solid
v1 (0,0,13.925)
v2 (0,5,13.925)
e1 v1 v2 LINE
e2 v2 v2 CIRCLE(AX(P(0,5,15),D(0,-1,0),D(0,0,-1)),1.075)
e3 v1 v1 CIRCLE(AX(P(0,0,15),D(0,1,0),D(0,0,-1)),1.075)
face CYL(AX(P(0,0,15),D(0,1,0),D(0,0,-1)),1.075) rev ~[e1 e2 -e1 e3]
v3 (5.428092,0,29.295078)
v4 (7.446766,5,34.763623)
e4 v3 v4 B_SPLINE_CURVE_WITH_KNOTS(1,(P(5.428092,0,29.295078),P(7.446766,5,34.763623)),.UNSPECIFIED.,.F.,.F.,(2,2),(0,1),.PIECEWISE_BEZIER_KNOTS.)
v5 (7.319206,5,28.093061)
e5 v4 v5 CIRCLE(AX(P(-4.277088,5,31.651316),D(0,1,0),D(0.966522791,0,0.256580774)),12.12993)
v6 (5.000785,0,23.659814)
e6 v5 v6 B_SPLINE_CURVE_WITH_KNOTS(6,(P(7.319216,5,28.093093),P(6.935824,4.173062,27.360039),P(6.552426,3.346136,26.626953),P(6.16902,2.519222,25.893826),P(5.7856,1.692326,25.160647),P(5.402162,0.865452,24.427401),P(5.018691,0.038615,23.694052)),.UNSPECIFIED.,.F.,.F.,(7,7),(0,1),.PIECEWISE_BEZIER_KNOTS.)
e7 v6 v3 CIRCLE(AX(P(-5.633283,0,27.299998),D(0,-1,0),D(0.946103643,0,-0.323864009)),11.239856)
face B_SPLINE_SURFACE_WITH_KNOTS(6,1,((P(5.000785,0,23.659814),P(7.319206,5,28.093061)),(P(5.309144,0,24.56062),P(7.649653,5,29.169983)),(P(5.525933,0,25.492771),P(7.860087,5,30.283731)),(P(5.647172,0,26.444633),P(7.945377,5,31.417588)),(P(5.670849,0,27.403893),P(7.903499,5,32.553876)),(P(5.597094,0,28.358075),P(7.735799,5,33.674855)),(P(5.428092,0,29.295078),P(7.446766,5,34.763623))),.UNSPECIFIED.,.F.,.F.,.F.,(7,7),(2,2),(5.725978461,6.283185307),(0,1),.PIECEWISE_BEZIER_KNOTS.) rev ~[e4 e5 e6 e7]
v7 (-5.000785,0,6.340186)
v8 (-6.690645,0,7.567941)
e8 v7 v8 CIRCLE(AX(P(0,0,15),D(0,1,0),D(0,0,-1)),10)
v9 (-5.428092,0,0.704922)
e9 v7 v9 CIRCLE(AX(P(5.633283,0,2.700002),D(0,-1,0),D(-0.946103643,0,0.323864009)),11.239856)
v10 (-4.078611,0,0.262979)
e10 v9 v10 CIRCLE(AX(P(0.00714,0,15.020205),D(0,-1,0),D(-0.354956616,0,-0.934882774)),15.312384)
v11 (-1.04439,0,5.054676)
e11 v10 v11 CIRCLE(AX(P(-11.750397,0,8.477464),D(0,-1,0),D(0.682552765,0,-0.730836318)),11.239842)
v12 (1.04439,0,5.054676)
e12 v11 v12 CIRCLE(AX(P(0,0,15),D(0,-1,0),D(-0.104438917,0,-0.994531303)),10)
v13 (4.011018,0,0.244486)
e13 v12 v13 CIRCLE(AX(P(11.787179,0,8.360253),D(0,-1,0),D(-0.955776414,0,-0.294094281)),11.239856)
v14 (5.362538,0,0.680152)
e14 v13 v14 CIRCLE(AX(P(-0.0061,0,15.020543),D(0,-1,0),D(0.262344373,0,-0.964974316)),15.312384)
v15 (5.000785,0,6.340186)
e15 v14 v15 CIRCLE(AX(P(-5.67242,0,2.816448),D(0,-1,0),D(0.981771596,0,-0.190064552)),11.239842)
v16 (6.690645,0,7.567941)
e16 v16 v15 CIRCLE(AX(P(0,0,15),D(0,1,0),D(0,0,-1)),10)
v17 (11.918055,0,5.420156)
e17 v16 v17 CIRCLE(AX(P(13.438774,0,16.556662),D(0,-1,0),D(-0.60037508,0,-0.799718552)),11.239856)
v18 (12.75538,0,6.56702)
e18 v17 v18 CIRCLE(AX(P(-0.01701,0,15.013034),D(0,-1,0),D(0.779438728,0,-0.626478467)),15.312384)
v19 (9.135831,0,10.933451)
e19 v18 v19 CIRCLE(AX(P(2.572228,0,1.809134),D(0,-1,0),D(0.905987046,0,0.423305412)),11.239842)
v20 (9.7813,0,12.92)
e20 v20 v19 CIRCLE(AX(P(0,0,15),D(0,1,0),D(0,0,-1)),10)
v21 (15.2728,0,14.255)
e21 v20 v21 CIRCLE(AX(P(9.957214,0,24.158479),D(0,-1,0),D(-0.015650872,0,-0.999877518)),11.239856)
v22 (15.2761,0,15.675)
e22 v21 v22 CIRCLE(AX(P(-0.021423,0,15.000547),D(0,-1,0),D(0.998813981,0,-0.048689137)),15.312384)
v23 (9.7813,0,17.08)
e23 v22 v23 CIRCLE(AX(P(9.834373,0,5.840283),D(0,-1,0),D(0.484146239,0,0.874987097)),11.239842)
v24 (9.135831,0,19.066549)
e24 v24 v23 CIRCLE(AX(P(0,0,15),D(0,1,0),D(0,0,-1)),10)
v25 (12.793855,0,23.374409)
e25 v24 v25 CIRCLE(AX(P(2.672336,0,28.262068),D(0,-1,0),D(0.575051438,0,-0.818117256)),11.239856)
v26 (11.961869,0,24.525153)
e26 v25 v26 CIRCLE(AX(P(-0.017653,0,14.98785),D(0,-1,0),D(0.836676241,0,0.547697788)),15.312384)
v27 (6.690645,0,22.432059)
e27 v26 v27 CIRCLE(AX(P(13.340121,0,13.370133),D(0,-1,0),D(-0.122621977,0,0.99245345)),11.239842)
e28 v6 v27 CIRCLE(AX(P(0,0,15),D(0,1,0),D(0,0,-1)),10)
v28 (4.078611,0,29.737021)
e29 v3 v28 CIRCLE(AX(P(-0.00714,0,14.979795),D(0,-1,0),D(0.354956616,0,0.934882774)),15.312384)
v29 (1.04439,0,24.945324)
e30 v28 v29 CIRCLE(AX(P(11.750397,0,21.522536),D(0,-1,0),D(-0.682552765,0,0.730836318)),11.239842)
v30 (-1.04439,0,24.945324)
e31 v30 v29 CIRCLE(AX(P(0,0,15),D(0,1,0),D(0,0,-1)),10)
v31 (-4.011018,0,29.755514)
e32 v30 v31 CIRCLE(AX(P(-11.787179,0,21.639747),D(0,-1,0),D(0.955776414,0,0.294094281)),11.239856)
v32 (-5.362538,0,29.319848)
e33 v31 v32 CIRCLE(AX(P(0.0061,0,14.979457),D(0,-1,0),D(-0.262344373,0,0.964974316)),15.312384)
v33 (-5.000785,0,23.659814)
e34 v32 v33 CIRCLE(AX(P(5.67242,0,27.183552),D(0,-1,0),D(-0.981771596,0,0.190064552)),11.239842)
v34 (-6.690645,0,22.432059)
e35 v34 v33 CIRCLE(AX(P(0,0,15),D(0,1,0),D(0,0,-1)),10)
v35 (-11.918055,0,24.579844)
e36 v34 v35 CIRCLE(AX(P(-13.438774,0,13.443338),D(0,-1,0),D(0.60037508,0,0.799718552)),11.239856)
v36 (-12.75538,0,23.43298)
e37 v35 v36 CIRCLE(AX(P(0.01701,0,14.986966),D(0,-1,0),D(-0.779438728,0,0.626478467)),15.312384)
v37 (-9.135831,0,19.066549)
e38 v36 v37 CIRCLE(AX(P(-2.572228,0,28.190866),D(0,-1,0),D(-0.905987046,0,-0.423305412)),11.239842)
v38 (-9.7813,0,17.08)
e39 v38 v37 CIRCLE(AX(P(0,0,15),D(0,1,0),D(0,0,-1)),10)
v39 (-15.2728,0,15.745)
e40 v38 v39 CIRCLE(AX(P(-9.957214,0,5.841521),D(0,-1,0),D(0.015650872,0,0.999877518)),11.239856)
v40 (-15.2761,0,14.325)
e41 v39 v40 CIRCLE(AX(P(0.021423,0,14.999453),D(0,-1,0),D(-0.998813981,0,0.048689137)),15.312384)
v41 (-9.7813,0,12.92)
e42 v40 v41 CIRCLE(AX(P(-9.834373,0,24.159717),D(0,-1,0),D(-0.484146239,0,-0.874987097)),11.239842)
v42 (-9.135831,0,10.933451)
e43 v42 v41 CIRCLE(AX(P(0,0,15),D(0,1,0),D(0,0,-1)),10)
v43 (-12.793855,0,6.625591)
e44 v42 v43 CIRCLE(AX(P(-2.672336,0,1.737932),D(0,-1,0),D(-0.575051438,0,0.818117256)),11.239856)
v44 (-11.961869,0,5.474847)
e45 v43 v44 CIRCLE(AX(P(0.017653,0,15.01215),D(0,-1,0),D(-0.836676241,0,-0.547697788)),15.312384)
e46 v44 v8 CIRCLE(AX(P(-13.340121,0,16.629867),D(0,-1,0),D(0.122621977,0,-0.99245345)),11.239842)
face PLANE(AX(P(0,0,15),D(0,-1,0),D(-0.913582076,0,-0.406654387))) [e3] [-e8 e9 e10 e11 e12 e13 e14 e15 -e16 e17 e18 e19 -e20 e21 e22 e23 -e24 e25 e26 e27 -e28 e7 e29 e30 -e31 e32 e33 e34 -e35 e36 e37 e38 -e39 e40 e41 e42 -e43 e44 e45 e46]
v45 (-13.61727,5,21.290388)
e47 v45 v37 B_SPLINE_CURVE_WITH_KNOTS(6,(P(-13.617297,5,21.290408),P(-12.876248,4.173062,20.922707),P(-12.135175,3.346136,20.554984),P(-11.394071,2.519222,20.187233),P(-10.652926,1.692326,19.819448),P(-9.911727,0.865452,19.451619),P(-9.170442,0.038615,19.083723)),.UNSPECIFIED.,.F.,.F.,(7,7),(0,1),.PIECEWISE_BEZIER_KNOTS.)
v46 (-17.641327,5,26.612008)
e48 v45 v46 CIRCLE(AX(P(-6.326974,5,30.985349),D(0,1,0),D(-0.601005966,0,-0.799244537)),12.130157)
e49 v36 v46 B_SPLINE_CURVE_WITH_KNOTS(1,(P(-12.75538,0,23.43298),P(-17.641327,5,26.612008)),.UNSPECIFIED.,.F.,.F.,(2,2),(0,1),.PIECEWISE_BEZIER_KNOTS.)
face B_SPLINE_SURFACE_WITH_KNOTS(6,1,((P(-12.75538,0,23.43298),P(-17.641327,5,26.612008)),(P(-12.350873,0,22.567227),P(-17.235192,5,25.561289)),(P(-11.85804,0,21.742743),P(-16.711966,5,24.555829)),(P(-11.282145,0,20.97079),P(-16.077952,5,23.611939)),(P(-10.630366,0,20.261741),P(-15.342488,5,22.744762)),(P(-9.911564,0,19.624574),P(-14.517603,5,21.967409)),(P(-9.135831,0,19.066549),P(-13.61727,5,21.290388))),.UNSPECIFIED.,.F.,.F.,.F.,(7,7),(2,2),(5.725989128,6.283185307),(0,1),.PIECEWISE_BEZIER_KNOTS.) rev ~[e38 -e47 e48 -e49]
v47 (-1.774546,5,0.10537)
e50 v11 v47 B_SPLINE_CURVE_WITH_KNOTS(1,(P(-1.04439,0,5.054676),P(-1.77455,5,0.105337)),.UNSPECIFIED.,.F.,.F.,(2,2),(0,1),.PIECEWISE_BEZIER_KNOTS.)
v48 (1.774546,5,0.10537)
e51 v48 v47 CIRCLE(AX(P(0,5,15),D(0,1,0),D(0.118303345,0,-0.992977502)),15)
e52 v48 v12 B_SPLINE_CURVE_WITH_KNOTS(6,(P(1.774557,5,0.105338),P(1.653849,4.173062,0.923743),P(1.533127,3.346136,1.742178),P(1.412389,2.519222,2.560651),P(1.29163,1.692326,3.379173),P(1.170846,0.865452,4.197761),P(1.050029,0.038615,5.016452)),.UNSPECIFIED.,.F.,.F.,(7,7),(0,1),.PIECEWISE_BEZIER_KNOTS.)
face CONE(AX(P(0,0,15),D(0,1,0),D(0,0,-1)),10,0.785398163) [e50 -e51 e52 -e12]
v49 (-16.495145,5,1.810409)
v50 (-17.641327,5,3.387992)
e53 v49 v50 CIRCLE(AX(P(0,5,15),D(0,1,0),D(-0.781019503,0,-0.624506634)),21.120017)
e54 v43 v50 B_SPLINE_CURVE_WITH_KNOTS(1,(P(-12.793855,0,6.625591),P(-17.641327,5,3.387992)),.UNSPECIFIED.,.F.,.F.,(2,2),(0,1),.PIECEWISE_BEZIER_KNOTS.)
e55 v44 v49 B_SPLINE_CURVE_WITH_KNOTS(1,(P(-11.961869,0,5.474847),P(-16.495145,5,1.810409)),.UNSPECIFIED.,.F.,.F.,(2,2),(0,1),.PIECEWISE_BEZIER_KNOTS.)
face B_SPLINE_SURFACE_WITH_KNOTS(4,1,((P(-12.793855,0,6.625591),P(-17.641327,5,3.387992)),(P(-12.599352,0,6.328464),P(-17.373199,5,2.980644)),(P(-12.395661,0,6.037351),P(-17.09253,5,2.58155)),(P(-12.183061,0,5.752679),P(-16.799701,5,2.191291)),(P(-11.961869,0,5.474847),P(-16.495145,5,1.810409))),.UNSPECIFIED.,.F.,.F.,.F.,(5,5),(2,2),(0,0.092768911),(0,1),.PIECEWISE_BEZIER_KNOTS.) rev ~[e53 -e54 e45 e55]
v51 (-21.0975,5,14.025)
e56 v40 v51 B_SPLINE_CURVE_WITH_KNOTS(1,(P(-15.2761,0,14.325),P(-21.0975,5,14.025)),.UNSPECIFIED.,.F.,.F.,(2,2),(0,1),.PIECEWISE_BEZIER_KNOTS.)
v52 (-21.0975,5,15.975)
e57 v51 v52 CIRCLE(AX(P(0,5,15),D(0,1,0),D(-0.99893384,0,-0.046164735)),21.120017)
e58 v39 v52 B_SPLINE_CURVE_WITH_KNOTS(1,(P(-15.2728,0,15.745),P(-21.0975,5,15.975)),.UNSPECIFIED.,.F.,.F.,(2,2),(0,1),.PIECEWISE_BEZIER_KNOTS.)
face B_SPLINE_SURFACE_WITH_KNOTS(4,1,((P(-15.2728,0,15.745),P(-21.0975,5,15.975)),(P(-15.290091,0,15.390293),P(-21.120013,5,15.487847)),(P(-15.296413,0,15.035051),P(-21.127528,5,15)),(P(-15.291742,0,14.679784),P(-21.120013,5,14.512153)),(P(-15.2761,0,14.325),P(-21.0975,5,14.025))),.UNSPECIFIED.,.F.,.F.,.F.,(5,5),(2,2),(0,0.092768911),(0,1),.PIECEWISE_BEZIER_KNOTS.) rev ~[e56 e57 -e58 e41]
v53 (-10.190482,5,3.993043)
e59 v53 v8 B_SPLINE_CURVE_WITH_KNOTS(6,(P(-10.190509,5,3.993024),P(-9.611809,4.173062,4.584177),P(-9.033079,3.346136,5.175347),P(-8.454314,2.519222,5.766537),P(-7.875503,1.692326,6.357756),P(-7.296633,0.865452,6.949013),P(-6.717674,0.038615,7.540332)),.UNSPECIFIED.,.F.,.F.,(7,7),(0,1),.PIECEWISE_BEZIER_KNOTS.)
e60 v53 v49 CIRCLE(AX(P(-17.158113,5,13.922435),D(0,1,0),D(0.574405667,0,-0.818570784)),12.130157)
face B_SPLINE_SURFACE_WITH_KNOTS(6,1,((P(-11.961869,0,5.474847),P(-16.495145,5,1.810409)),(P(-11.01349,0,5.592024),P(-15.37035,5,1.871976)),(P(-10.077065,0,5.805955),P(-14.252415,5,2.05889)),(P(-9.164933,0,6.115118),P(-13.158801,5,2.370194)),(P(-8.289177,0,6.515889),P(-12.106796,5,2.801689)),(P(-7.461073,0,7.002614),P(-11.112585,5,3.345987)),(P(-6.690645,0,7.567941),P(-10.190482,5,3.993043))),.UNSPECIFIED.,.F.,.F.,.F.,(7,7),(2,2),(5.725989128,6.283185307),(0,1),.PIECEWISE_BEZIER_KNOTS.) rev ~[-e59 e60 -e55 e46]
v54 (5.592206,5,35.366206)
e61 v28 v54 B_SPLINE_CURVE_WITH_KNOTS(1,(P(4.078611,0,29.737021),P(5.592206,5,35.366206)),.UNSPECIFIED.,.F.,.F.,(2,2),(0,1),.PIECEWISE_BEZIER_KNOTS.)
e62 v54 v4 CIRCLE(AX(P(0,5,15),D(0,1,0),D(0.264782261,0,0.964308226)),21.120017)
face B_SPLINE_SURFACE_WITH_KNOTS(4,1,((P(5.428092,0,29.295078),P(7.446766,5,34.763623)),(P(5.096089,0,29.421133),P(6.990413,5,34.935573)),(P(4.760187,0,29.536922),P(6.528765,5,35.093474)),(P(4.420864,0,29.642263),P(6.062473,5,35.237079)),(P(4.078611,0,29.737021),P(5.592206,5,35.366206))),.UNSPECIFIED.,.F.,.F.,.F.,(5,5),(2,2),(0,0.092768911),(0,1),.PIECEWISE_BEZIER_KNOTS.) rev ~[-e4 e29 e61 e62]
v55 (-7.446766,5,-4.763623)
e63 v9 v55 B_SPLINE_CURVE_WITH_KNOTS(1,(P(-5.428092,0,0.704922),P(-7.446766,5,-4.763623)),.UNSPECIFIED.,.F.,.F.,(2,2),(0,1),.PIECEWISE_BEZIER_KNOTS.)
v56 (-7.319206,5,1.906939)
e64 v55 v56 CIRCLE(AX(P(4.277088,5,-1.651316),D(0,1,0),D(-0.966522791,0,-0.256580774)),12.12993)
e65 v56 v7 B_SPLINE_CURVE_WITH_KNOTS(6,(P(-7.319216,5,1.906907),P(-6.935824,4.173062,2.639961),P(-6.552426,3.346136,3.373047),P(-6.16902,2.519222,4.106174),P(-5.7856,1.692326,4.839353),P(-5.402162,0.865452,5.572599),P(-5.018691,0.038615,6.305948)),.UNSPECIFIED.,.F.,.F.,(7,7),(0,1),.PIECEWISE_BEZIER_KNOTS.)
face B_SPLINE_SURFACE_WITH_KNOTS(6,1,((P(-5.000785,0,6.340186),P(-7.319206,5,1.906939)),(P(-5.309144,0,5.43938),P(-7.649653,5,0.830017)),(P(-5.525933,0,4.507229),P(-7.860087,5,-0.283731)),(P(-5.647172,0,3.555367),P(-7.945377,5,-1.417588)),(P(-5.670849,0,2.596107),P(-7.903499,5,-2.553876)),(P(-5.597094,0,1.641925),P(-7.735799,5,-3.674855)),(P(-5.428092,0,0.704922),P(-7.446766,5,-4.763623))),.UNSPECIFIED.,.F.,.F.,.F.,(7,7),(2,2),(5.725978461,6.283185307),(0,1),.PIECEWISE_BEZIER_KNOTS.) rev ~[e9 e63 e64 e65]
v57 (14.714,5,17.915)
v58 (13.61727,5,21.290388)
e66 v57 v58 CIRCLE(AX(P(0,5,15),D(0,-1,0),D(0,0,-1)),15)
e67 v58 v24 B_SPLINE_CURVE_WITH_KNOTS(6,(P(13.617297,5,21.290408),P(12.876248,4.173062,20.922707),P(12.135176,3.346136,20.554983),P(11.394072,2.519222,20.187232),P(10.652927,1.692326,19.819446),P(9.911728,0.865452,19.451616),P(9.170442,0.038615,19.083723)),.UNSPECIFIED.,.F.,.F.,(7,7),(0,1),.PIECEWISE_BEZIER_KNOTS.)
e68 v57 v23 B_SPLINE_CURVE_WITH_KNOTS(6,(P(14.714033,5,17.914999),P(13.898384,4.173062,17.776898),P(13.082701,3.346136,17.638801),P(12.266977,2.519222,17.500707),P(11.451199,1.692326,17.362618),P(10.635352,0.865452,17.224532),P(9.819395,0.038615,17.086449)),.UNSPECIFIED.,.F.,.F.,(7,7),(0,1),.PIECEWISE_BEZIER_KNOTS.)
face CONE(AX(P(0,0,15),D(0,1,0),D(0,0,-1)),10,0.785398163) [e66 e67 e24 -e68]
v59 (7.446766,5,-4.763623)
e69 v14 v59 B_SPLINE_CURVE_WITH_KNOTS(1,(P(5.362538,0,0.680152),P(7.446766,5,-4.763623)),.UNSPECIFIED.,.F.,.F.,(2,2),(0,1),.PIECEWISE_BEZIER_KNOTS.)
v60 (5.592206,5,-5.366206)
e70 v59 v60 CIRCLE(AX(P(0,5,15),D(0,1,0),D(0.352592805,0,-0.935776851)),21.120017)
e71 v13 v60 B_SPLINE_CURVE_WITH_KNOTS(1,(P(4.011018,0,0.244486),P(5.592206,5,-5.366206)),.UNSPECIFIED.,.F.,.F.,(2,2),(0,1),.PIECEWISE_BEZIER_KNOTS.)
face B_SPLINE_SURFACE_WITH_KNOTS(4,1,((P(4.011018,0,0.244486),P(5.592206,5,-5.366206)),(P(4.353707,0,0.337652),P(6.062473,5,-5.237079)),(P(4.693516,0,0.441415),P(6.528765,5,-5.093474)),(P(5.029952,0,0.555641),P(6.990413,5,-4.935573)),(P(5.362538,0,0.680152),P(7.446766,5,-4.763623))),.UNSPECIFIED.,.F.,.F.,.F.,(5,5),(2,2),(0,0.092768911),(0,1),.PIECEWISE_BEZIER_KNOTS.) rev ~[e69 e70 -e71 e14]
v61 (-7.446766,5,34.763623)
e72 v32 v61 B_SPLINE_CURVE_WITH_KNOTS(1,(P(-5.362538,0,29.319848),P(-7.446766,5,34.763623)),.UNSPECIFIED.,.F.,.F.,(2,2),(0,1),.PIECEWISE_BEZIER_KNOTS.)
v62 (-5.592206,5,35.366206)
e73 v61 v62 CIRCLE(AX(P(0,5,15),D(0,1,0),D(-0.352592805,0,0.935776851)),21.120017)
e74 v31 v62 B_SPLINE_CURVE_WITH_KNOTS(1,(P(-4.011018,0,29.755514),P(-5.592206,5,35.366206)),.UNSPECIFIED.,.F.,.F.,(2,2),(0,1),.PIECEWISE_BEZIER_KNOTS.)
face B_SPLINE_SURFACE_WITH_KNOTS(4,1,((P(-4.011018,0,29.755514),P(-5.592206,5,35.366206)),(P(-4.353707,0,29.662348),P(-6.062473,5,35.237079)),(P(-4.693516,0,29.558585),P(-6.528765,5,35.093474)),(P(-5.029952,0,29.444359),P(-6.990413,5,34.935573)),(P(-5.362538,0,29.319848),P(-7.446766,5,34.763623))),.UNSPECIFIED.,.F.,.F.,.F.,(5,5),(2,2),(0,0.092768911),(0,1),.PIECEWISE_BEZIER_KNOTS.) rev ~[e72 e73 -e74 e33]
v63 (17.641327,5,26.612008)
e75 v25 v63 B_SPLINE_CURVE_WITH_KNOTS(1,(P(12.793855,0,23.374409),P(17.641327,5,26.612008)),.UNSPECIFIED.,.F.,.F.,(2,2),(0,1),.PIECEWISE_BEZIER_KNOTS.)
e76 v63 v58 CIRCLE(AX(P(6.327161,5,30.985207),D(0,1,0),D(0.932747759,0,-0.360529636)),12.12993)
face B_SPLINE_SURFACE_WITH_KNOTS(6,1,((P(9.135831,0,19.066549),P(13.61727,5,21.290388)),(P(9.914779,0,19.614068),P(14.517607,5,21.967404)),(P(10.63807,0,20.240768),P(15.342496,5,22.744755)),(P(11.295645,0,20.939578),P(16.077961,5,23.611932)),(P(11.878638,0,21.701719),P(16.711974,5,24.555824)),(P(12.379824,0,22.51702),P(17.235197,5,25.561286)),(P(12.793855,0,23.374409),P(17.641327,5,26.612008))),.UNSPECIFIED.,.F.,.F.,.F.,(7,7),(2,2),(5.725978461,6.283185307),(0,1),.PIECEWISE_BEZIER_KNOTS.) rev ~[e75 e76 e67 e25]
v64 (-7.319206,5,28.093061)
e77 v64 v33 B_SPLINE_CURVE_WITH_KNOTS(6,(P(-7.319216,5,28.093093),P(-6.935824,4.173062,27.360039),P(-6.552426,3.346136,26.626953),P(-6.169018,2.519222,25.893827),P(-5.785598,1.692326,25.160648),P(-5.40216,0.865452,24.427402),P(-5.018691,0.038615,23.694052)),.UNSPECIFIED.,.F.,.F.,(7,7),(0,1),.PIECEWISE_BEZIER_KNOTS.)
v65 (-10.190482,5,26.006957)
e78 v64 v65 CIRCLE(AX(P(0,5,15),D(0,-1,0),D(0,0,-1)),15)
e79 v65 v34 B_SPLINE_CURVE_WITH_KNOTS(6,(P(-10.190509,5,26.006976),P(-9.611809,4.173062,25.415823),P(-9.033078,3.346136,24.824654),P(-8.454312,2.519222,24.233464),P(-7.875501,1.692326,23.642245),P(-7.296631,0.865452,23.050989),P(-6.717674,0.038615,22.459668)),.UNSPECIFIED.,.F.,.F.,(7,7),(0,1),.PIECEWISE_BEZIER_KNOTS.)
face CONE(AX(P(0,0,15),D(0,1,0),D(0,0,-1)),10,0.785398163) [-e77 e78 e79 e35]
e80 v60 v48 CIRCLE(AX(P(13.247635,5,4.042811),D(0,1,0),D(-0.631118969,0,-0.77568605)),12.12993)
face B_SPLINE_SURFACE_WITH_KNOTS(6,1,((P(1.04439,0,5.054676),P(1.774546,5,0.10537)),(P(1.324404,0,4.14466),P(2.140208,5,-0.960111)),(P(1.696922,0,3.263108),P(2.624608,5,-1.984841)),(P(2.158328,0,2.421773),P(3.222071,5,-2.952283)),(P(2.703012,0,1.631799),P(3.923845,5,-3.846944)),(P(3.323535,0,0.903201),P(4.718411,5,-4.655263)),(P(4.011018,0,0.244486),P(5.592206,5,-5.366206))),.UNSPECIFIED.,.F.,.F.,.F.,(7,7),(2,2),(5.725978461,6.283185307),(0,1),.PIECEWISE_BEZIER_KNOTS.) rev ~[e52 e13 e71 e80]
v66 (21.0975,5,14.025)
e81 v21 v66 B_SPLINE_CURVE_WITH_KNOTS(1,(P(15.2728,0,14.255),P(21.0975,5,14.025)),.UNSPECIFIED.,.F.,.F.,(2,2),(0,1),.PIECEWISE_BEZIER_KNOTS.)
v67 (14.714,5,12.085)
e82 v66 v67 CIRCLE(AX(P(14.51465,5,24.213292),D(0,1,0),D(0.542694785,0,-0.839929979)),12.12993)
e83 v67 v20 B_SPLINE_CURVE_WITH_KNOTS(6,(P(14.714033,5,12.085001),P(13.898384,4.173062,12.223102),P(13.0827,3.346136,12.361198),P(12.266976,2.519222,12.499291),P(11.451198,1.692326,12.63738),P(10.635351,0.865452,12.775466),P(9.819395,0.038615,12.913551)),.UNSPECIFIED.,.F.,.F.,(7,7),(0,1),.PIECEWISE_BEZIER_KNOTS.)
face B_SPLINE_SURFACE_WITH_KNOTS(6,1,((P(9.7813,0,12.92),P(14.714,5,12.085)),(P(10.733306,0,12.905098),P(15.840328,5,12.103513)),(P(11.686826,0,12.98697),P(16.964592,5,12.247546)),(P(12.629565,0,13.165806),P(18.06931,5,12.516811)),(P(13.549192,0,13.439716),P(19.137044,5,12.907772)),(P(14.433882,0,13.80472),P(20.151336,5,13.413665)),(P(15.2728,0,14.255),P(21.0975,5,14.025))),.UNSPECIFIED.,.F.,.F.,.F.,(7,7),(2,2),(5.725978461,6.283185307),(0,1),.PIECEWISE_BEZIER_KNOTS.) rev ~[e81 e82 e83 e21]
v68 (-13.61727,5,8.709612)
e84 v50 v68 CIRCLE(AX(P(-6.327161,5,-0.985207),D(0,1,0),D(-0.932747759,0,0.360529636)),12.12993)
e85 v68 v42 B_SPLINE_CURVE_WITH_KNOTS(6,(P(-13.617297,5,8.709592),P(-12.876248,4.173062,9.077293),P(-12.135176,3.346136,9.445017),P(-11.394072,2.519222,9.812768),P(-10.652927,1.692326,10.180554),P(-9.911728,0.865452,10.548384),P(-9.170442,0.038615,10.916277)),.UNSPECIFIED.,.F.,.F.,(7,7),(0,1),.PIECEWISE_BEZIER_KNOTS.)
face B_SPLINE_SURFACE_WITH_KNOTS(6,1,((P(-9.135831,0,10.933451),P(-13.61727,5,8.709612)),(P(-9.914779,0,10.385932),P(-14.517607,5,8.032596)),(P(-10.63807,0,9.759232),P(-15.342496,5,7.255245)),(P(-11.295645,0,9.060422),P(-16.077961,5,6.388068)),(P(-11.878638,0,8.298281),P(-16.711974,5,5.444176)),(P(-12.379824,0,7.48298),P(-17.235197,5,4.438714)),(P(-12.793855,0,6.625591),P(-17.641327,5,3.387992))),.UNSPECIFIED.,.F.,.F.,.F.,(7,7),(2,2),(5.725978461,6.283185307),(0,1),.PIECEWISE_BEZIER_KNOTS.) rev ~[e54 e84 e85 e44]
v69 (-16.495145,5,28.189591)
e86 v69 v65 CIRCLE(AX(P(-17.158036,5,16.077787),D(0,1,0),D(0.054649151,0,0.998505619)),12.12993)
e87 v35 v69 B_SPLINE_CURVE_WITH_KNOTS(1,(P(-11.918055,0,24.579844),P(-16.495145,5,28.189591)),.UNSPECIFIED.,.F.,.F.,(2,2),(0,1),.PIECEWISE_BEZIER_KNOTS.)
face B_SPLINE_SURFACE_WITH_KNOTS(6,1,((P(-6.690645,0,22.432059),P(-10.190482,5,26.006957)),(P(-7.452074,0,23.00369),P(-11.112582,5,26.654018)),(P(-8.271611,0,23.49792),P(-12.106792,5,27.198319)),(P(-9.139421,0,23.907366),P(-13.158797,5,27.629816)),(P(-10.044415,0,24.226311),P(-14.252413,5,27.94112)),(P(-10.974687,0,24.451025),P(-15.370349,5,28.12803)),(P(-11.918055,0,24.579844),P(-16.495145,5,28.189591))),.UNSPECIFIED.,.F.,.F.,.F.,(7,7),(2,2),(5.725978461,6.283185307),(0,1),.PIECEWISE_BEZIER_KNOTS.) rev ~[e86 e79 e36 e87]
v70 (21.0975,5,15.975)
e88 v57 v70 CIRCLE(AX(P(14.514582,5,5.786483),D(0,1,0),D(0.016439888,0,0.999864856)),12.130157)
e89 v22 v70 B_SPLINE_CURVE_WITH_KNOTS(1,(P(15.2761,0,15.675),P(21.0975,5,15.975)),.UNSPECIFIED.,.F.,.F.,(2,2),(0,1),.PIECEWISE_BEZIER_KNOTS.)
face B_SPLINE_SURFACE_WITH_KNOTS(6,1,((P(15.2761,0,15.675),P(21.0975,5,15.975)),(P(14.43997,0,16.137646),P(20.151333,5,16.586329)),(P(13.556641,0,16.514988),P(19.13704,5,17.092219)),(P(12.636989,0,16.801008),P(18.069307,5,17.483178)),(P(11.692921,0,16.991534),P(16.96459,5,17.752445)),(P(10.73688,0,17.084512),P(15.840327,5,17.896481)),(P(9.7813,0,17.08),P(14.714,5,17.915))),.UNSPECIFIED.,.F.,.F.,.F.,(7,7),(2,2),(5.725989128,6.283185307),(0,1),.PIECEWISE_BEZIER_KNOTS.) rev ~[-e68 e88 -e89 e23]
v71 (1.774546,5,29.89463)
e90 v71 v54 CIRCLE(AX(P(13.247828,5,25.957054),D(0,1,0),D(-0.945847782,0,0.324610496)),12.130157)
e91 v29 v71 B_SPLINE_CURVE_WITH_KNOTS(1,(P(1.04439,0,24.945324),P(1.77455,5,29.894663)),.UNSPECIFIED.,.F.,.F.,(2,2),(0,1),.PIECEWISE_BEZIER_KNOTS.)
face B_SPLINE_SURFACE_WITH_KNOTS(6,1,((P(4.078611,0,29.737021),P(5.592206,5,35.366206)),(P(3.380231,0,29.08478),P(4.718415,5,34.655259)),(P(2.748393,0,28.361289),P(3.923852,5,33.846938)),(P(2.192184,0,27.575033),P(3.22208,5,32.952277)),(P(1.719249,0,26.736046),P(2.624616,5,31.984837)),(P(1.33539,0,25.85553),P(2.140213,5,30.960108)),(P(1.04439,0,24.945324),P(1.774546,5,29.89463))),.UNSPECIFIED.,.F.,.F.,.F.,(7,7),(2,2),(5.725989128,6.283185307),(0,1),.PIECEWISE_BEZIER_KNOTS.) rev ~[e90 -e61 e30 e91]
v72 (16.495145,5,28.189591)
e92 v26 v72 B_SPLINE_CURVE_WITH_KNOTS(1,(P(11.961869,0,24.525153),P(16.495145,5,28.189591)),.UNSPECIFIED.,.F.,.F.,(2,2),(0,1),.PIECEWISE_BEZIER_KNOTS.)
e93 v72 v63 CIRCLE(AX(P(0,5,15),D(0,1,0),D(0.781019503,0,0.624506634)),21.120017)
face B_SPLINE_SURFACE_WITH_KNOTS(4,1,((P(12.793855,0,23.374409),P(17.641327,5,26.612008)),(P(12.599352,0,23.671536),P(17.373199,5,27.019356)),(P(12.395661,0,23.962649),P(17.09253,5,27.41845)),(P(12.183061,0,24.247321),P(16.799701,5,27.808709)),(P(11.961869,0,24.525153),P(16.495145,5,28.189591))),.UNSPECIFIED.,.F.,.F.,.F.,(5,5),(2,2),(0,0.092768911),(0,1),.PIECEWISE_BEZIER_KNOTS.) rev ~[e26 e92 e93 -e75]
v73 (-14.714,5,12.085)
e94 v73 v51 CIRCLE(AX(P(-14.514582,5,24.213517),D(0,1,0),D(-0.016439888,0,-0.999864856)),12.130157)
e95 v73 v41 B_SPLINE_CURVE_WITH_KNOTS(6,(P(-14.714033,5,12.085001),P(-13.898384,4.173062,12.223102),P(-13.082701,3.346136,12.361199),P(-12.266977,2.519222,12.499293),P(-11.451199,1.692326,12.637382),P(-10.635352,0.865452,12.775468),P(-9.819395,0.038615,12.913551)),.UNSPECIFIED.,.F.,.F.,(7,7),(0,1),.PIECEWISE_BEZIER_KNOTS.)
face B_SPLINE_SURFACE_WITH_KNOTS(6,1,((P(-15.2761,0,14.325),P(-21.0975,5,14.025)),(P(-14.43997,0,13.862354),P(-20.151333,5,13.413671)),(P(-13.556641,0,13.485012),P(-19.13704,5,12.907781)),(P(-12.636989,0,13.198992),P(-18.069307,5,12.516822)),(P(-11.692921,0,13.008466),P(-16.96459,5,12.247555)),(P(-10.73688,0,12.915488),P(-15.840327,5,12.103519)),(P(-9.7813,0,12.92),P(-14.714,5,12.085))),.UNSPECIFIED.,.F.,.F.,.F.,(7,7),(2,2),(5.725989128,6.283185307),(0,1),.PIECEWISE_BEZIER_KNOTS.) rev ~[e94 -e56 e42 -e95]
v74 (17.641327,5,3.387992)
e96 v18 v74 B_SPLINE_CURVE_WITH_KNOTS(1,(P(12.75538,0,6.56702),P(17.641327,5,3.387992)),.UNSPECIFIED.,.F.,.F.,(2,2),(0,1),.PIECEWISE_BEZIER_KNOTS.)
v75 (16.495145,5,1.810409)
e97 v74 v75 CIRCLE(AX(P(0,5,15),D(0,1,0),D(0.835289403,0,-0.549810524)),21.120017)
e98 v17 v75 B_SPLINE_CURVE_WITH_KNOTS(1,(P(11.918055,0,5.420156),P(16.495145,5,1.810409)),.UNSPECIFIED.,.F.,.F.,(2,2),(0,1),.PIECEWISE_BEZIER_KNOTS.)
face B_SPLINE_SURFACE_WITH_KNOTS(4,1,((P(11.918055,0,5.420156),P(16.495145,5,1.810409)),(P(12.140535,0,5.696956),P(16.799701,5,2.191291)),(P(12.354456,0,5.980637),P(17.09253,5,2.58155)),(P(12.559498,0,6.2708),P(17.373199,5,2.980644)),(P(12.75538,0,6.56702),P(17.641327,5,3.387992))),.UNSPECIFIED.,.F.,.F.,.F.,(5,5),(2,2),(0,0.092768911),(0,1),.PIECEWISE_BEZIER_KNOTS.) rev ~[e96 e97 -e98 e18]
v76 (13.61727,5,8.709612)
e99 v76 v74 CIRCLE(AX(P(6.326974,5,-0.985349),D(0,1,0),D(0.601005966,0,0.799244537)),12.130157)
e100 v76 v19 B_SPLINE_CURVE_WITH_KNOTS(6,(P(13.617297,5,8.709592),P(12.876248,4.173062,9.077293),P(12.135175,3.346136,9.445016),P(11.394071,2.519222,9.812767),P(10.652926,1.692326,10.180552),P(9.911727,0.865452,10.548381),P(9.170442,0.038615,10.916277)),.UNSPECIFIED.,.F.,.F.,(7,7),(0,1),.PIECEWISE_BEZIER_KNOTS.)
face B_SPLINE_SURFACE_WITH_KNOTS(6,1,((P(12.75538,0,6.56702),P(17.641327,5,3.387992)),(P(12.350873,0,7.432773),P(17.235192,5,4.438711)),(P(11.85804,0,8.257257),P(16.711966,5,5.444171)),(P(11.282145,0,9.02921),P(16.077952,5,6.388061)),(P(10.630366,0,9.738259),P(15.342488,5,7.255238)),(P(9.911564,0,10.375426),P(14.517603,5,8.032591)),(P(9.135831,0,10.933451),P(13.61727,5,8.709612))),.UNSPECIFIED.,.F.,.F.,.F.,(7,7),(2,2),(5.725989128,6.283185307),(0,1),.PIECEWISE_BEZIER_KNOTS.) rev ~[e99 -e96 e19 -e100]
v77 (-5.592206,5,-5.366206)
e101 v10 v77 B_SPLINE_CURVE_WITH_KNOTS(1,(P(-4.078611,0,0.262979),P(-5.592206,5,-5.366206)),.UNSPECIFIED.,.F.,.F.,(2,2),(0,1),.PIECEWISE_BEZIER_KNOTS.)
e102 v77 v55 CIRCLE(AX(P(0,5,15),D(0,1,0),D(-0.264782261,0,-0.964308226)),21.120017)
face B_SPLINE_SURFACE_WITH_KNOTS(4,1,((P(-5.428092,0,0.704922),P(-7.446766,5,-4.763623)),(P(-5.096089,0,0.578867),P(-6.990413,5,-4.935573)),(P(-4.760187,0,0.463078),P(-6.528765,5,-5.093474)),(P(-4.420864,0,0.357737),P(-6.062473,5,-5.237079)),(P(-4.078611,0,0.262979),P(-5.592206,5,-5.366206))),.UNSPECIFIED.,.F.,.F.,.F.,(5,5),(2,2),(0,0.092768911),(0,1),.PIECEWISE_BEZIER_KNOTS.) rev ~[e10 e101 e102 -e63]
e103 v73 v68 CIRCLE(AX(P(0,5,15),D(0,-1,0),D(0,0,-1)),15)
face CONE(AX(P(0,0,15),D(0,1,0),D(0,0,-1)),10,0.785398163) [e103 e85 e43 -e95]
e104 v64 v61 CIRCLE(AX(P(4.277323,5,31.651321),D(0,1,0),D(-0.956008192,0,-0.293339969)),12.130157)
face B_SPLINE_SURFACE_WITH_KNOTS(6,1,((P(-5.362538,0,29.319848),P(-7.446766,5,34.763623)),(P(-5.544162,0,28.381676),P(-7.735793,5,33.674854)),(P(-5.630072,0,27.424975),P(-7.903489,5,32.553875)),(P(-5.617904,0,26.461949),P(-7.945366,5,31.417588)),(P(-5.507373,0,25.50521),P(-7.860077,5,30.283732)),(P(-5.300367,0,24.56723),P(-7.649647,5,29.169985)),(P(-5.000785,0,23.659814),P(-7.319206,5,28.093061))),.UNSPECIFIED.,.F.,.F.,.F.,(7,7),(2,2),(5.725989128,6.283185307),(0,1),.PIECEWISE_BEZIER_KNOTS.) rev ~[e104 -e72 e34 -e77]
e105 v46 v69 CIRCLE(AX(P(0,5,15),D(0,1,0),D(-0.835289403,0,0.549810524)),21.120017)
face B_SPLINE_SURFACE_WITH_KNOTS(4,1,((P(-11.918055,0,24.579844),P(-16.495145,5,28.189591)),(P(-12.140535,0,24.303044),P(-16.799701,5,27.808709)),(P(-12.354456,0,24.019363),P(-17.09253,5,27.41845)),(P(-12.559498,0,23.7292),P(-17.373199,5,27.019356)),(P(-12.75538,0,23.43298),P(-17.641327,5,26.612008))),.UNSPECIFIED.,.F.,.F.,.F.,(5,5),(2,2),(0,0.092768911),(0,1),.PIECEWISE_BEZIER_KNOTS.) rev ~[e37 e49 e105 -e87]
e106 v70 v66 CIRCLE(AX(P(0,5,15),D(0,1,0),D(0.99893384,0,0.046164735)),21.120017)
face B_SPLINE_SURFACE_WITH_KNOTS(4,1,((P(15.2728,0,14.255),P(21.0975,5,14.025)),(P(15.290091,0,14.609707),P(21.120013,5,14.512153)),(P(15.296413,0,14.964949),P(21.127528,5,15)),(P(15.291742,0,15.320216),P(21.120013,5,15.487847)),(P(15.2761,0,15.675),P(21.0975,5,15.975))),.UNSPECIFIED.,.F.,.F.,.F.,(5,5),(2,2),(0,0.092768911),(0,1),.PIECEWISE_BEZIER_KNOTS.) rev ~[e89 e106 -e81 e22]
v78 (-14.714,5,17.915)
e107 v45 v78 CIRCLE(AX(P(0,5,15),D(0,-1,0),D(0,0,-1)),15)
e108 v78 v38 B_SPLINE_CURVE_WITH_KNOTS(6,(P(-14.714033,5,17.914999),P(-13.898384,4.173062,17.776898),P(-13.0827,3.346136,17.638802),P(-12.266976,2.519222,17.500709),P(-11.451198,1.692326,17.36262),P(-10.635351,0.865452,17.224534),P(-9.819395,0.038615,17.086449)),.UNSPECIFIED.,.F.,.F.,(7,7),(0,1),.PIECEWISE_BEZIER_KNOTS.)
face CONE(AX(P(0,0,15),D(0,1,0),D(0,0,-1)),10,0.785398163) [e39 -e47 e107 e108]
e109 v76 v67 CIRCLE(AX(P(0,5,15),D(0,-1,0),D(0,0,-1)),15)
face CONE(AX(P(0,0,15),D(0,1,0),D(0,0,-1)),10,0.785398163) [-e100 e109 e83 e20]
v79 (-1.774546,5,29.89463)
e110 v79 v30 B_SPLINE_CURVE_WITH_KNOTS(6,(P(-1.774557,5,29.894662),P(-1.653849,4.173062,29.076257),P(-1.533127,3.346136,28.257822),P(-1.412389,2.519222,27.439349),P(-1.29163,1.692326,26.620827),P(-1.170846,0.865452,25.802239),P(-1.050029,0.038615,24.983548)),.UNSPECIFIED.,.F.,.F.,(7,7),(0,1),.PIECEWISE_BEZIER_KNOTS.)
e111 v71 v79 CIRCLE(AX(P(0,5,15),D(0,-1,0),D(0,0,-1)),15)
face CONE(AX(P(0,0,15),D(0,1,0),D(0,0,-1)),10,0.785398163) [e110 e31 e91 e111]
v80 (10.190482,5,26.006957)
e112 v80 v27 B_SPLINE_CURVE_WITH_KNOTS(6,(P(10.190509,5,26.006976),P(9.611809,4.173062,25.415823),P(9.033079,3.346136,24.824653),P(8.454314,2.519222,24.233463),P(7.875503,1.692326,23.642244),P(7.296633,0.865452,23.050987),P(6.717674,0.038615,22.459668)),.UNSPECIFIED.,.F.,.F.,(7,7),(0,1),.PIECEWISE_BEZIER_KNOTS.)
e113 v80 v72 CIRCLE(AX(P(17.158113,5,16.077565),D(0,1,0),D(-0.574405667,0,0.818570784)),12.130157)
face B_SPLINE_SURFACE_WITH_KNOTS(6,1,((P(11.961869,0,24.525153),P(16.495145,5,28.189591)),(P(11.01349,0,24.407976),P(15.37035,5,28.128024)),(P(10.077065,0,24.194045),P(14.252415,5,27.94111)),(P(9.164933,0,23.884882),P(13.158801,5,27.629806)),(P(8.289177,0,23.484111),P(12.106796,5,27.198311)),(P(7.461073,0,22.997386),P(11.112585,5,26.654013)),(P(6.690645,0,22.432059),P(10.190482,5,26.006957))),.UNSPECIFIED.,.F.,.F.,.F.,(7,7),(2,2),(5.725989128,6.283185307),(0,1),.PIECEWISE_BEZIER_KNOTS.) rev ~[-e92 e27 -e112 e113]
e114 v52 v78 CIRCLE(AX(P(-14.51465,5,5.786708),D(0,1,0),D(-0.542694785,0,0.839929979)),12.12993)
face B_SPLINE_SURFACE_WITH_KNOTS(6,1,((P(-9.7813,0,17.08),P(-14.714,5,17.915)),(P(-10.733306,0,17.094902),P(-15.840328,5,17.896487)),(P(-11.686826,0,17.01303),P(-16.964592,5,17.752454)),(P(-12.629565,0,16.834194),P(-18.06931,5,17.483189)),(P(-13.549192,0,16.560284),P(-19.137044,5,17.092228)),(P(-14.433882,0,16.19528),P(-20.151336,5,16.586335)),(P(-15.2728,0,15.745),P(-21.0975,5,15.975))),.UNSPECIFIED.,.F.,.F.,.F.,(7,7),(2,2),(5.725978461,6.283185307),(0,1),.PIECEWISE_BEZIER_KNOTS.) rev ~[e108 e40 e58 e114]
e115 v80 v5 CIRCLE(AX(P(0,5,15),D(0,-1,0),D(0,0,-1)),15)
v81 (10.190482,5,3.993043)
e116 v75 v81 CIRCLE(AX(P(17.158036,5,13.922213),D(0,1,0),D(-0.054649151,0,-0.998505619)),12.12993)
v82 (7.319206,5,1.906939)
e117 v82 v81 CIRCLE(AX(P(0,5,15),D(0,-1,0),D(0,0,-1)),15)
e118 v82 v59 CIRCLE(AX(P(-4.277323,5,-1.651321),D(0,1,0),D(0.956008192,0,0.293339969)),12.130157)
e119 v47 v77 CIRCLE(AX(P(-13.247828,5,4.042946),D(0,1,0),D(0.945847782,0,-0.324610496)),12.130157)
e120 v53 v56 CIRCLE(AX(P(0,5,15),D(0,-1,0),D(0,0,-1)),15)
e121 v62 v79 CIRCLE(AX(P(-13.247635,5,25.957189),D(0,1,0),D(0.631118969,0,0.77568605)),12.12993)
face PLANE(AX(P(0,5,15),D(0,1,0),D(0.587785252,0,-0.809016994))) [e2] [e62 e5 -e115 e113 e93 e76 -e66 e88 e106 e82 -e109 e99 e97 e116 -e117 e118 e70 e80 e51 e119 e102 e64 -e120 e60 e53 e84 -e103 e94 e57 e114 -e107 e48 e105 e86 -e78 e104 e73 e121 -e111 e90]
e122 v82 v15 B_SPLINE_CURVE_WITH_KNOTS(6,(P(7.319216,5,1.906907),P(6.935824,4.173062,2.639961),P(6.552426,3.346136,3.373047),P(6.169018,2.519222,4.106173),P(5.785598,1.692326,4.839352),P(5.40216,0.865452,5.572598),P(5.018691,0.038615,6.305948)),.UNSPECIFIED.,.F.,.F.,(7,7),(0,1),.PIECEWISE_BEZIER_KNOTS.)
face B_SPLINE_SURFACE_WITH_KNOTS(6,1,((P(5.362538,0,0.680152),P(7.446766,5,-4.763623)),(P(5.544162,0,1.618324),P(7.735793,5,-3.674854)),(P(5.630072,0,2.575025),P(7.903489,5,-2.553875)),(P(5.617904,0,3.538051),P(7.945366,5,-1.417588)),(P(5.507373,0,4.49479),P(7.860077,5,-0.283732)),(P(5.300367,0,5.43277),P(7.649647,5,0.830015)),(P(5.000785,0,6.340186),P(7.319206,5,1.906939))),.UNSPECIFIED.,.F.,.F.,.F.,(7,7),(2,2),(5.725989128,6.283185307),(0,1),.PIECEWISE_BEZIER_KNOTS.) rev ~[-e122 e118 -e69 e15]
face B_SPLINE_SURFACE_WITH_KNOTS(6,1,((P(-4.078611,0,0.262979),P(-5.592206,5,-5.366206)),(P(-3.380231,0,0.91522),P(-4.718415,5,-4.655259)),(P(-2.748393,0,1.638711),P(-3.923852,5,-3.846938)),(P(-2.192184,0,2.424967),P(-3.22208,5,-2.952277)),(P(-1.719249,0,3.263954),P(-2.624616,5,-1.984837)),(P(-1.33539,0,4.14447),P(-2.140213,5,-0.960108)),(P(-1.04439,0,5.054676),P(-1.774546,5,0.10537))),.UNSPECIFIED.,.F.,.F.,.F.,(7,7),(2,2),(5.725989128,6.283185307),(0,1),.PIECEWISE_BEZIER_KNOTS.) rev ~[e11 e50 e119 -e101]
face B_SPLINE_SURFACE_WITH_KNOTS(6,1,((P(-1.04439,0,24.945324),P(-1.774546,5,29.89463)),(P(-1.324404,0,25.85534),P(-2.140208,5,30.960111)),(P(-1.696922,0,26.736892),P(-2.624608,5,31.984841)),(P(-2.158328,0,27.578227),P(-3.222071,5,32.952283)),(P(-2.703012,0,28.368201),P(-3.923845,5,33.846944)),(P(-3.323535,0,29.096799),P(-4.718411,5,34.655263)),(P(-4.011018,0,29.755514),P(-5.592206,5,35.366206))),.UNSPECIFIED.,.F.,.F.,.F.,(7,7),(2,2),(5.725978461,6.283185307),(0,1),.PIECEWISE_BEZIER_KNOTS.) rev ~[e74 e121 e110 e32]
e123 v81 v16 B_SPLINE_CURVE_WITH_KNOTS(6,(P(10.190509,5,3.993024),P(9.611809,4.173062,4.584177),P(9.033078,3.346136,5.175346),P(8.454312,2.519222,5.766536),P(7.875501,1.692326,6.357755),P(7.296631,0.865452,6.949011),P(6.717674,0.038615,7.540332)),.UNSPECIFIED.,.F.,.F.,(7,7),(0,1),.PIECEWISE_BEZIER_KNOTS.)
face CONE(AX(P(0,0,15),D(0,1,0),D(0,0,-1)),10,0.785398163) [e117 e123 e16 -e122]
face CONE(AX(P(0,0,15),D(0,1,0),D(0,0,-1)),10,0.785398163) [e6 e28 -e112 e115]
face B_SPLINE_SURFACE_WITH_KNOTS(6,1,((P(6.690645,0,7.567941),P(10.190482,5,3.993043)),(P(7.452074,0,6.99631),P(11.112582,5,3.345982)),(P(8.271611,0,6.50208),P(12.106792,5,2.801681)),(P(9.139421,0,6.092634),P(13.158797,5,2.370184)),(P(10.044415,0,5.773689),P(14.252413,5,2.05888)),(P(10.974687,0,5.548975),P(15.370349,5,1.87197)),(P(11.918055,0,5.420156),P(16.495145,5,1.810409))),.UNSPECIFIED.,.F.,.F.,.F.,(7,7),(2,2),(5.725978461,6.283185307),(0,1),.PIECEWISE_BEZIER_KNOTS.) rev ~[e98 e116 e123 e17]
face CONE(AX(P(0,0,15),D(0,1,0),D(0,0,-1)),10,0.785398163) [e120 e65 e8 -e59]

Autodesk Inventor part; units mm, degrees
ref_plane "YZ Plane" through (0, 0, 0) normal (1, 0, 0) x (0, 1, 0)
ref_plane "XZ Plane" through (0, 0, 0) normal (0, 1, 0) x (-1, 0, 0)
ref_plane "XY Plane" through (0, 0, 0) normal (0, 0, 1) x (1, 0, 0)
ref_plane "Work Plane1" through (0, 0, 0) normal (1, 0, 0) x (0, 1, 0)
sketch "Sketch1" plane through (0, 0, 0) normal (1, 0, 0) x (0, 1, 0)
  line L0 (0, 0) -> (5, 0) construction
  line L1 (5, 0) -> (5, 5)
  line L2 (0, 5) -> (0, 0) construction
  line L3 (0, 5) -> (5, 0)
  line L4 (0, 5) -> (5, 5)
  line L5 (5, 0) -> (0, 0) construction
  line L6 (0, 0) -> (0, 30)
  line L7 (0, 30) -> (5, 30) construction
  line L8 (5, 30) -> (5, 0)
  line L9 (0, 30) -> (5, 30)
  line L10 (5, 30) -> (5, 25)
  line L11 (5, 25) -> (0, 25)
  line L12 (0, 25) -> (0, 30)
  line L13 (0, 25) -> (5, 30)
  line L14 (0, 15) -> (5, 15) construction
  line L15 (0, 13.925) -> (5, 13.925)
  line L16 (5, 13.925) -> (5, 16.075)
  line L17 (5, 16.075) -> (0, 16.075)
  line L18 (0, 16.075) -> (0, 13.925)
  point P0 (10, 5)
  point P1 (0, 16.075)
  point P2 (0, 25)
  dimension "d4" = 5
  dimension "d10" = 30
  dimension "d11" = 5
  dimension "d12" = 5
  dimension "d13" = 5
  dimension "d14" = 5
  dimension "d15" = 1.075
  dimension "d16" = 2.15
revolve "Revolution1" add sketch "Sketch1" angle 360 about axis through (0, 0, 15) along (0, 1, 0) contours L3 L4 L1 | L4 L6 L15 L8 | L17 L6 L11 L8 | L11 L13 L8
sketch "Sketch2" plane through (0, 0, 15) normal (0, -1, 0) x (1, 0, 0)
  arc A0 (0, 1.075) -> (0, -1.075) centre (0, 0) ccw projected
  arc A1 (0, 10) -> (0, -10) centre (0, 0) ccw construction
  arc A2 (-9.7813, 2.08) -> (-9.7813, -2.08) centre (0, 0) ccw
  arc A3 (-15.2728, 0.745) -> (-15.2761, -0.675) centre (0, 0) ccw
  arc A4 (-15.2761, -0.675) -> (-9.7813, -2.08) centre (-9.8343, 9.1599) ccw
  arc A5 (-9.7813, 2.08) -> (-15.2728, 0.745) centre (-9.9572, -9.1586) ccw
  point P0 (0, -15)
  dimension "d17" = 4.16
  dimension "d18" = 2.08
  dimension "d21" = 0.745
  dimension "d22" = 1.42
  dimension "d23" = 15.291
  dimension "d24" = 11.24
  dimension "d25" = 11.24
sketch "Sketch3" plane through (0, 5, 15) normal (0, 1, 0) x (1, 0, 0)
  arc A0 (0, 1.075) -> (0, -1.075) centre (0, 0) ccw projected
  arc A1 (0, 15) -> (0, -15) centre (0, 0) ccw projected
  arc A2 (-14.714, 2.915) -> (-14.714, -2.915) centre (0, 0) ccw
  arc A3 (-21.0975, 0.975) -> (-21.0975, -0.975) centre (0, 0) ccw
  arc A4 (-21.0975, -0.975) -> (-14.714, -2.915) centre (-14.5146, 9.2134) ccw
  arc A5 (-14.714, 2.915) -> (-21.0975, 0.975) centre (-14.5146, -9.2134) ccw
  dimension "d26" = 2.915
  dimension "d27" = 5.83
  dimension "d29" = 0.975
  dimension "d30" = 1.95
  dimension "d31" = 15
  dimension "d32" = 21.12
  dimension "d33" = 12.13
  dimension "d34" = 12.13
loft "Loft1" add profiles "Sketch2", "Sketch3"
pattern_circular "Circular Pattern1" count 10 over 360 about axis through (0, 2.5, 15) along (0, 1, 0) of "Loft1"
equation "\"t\" = 0.15"
properties part number "bevelGear"
